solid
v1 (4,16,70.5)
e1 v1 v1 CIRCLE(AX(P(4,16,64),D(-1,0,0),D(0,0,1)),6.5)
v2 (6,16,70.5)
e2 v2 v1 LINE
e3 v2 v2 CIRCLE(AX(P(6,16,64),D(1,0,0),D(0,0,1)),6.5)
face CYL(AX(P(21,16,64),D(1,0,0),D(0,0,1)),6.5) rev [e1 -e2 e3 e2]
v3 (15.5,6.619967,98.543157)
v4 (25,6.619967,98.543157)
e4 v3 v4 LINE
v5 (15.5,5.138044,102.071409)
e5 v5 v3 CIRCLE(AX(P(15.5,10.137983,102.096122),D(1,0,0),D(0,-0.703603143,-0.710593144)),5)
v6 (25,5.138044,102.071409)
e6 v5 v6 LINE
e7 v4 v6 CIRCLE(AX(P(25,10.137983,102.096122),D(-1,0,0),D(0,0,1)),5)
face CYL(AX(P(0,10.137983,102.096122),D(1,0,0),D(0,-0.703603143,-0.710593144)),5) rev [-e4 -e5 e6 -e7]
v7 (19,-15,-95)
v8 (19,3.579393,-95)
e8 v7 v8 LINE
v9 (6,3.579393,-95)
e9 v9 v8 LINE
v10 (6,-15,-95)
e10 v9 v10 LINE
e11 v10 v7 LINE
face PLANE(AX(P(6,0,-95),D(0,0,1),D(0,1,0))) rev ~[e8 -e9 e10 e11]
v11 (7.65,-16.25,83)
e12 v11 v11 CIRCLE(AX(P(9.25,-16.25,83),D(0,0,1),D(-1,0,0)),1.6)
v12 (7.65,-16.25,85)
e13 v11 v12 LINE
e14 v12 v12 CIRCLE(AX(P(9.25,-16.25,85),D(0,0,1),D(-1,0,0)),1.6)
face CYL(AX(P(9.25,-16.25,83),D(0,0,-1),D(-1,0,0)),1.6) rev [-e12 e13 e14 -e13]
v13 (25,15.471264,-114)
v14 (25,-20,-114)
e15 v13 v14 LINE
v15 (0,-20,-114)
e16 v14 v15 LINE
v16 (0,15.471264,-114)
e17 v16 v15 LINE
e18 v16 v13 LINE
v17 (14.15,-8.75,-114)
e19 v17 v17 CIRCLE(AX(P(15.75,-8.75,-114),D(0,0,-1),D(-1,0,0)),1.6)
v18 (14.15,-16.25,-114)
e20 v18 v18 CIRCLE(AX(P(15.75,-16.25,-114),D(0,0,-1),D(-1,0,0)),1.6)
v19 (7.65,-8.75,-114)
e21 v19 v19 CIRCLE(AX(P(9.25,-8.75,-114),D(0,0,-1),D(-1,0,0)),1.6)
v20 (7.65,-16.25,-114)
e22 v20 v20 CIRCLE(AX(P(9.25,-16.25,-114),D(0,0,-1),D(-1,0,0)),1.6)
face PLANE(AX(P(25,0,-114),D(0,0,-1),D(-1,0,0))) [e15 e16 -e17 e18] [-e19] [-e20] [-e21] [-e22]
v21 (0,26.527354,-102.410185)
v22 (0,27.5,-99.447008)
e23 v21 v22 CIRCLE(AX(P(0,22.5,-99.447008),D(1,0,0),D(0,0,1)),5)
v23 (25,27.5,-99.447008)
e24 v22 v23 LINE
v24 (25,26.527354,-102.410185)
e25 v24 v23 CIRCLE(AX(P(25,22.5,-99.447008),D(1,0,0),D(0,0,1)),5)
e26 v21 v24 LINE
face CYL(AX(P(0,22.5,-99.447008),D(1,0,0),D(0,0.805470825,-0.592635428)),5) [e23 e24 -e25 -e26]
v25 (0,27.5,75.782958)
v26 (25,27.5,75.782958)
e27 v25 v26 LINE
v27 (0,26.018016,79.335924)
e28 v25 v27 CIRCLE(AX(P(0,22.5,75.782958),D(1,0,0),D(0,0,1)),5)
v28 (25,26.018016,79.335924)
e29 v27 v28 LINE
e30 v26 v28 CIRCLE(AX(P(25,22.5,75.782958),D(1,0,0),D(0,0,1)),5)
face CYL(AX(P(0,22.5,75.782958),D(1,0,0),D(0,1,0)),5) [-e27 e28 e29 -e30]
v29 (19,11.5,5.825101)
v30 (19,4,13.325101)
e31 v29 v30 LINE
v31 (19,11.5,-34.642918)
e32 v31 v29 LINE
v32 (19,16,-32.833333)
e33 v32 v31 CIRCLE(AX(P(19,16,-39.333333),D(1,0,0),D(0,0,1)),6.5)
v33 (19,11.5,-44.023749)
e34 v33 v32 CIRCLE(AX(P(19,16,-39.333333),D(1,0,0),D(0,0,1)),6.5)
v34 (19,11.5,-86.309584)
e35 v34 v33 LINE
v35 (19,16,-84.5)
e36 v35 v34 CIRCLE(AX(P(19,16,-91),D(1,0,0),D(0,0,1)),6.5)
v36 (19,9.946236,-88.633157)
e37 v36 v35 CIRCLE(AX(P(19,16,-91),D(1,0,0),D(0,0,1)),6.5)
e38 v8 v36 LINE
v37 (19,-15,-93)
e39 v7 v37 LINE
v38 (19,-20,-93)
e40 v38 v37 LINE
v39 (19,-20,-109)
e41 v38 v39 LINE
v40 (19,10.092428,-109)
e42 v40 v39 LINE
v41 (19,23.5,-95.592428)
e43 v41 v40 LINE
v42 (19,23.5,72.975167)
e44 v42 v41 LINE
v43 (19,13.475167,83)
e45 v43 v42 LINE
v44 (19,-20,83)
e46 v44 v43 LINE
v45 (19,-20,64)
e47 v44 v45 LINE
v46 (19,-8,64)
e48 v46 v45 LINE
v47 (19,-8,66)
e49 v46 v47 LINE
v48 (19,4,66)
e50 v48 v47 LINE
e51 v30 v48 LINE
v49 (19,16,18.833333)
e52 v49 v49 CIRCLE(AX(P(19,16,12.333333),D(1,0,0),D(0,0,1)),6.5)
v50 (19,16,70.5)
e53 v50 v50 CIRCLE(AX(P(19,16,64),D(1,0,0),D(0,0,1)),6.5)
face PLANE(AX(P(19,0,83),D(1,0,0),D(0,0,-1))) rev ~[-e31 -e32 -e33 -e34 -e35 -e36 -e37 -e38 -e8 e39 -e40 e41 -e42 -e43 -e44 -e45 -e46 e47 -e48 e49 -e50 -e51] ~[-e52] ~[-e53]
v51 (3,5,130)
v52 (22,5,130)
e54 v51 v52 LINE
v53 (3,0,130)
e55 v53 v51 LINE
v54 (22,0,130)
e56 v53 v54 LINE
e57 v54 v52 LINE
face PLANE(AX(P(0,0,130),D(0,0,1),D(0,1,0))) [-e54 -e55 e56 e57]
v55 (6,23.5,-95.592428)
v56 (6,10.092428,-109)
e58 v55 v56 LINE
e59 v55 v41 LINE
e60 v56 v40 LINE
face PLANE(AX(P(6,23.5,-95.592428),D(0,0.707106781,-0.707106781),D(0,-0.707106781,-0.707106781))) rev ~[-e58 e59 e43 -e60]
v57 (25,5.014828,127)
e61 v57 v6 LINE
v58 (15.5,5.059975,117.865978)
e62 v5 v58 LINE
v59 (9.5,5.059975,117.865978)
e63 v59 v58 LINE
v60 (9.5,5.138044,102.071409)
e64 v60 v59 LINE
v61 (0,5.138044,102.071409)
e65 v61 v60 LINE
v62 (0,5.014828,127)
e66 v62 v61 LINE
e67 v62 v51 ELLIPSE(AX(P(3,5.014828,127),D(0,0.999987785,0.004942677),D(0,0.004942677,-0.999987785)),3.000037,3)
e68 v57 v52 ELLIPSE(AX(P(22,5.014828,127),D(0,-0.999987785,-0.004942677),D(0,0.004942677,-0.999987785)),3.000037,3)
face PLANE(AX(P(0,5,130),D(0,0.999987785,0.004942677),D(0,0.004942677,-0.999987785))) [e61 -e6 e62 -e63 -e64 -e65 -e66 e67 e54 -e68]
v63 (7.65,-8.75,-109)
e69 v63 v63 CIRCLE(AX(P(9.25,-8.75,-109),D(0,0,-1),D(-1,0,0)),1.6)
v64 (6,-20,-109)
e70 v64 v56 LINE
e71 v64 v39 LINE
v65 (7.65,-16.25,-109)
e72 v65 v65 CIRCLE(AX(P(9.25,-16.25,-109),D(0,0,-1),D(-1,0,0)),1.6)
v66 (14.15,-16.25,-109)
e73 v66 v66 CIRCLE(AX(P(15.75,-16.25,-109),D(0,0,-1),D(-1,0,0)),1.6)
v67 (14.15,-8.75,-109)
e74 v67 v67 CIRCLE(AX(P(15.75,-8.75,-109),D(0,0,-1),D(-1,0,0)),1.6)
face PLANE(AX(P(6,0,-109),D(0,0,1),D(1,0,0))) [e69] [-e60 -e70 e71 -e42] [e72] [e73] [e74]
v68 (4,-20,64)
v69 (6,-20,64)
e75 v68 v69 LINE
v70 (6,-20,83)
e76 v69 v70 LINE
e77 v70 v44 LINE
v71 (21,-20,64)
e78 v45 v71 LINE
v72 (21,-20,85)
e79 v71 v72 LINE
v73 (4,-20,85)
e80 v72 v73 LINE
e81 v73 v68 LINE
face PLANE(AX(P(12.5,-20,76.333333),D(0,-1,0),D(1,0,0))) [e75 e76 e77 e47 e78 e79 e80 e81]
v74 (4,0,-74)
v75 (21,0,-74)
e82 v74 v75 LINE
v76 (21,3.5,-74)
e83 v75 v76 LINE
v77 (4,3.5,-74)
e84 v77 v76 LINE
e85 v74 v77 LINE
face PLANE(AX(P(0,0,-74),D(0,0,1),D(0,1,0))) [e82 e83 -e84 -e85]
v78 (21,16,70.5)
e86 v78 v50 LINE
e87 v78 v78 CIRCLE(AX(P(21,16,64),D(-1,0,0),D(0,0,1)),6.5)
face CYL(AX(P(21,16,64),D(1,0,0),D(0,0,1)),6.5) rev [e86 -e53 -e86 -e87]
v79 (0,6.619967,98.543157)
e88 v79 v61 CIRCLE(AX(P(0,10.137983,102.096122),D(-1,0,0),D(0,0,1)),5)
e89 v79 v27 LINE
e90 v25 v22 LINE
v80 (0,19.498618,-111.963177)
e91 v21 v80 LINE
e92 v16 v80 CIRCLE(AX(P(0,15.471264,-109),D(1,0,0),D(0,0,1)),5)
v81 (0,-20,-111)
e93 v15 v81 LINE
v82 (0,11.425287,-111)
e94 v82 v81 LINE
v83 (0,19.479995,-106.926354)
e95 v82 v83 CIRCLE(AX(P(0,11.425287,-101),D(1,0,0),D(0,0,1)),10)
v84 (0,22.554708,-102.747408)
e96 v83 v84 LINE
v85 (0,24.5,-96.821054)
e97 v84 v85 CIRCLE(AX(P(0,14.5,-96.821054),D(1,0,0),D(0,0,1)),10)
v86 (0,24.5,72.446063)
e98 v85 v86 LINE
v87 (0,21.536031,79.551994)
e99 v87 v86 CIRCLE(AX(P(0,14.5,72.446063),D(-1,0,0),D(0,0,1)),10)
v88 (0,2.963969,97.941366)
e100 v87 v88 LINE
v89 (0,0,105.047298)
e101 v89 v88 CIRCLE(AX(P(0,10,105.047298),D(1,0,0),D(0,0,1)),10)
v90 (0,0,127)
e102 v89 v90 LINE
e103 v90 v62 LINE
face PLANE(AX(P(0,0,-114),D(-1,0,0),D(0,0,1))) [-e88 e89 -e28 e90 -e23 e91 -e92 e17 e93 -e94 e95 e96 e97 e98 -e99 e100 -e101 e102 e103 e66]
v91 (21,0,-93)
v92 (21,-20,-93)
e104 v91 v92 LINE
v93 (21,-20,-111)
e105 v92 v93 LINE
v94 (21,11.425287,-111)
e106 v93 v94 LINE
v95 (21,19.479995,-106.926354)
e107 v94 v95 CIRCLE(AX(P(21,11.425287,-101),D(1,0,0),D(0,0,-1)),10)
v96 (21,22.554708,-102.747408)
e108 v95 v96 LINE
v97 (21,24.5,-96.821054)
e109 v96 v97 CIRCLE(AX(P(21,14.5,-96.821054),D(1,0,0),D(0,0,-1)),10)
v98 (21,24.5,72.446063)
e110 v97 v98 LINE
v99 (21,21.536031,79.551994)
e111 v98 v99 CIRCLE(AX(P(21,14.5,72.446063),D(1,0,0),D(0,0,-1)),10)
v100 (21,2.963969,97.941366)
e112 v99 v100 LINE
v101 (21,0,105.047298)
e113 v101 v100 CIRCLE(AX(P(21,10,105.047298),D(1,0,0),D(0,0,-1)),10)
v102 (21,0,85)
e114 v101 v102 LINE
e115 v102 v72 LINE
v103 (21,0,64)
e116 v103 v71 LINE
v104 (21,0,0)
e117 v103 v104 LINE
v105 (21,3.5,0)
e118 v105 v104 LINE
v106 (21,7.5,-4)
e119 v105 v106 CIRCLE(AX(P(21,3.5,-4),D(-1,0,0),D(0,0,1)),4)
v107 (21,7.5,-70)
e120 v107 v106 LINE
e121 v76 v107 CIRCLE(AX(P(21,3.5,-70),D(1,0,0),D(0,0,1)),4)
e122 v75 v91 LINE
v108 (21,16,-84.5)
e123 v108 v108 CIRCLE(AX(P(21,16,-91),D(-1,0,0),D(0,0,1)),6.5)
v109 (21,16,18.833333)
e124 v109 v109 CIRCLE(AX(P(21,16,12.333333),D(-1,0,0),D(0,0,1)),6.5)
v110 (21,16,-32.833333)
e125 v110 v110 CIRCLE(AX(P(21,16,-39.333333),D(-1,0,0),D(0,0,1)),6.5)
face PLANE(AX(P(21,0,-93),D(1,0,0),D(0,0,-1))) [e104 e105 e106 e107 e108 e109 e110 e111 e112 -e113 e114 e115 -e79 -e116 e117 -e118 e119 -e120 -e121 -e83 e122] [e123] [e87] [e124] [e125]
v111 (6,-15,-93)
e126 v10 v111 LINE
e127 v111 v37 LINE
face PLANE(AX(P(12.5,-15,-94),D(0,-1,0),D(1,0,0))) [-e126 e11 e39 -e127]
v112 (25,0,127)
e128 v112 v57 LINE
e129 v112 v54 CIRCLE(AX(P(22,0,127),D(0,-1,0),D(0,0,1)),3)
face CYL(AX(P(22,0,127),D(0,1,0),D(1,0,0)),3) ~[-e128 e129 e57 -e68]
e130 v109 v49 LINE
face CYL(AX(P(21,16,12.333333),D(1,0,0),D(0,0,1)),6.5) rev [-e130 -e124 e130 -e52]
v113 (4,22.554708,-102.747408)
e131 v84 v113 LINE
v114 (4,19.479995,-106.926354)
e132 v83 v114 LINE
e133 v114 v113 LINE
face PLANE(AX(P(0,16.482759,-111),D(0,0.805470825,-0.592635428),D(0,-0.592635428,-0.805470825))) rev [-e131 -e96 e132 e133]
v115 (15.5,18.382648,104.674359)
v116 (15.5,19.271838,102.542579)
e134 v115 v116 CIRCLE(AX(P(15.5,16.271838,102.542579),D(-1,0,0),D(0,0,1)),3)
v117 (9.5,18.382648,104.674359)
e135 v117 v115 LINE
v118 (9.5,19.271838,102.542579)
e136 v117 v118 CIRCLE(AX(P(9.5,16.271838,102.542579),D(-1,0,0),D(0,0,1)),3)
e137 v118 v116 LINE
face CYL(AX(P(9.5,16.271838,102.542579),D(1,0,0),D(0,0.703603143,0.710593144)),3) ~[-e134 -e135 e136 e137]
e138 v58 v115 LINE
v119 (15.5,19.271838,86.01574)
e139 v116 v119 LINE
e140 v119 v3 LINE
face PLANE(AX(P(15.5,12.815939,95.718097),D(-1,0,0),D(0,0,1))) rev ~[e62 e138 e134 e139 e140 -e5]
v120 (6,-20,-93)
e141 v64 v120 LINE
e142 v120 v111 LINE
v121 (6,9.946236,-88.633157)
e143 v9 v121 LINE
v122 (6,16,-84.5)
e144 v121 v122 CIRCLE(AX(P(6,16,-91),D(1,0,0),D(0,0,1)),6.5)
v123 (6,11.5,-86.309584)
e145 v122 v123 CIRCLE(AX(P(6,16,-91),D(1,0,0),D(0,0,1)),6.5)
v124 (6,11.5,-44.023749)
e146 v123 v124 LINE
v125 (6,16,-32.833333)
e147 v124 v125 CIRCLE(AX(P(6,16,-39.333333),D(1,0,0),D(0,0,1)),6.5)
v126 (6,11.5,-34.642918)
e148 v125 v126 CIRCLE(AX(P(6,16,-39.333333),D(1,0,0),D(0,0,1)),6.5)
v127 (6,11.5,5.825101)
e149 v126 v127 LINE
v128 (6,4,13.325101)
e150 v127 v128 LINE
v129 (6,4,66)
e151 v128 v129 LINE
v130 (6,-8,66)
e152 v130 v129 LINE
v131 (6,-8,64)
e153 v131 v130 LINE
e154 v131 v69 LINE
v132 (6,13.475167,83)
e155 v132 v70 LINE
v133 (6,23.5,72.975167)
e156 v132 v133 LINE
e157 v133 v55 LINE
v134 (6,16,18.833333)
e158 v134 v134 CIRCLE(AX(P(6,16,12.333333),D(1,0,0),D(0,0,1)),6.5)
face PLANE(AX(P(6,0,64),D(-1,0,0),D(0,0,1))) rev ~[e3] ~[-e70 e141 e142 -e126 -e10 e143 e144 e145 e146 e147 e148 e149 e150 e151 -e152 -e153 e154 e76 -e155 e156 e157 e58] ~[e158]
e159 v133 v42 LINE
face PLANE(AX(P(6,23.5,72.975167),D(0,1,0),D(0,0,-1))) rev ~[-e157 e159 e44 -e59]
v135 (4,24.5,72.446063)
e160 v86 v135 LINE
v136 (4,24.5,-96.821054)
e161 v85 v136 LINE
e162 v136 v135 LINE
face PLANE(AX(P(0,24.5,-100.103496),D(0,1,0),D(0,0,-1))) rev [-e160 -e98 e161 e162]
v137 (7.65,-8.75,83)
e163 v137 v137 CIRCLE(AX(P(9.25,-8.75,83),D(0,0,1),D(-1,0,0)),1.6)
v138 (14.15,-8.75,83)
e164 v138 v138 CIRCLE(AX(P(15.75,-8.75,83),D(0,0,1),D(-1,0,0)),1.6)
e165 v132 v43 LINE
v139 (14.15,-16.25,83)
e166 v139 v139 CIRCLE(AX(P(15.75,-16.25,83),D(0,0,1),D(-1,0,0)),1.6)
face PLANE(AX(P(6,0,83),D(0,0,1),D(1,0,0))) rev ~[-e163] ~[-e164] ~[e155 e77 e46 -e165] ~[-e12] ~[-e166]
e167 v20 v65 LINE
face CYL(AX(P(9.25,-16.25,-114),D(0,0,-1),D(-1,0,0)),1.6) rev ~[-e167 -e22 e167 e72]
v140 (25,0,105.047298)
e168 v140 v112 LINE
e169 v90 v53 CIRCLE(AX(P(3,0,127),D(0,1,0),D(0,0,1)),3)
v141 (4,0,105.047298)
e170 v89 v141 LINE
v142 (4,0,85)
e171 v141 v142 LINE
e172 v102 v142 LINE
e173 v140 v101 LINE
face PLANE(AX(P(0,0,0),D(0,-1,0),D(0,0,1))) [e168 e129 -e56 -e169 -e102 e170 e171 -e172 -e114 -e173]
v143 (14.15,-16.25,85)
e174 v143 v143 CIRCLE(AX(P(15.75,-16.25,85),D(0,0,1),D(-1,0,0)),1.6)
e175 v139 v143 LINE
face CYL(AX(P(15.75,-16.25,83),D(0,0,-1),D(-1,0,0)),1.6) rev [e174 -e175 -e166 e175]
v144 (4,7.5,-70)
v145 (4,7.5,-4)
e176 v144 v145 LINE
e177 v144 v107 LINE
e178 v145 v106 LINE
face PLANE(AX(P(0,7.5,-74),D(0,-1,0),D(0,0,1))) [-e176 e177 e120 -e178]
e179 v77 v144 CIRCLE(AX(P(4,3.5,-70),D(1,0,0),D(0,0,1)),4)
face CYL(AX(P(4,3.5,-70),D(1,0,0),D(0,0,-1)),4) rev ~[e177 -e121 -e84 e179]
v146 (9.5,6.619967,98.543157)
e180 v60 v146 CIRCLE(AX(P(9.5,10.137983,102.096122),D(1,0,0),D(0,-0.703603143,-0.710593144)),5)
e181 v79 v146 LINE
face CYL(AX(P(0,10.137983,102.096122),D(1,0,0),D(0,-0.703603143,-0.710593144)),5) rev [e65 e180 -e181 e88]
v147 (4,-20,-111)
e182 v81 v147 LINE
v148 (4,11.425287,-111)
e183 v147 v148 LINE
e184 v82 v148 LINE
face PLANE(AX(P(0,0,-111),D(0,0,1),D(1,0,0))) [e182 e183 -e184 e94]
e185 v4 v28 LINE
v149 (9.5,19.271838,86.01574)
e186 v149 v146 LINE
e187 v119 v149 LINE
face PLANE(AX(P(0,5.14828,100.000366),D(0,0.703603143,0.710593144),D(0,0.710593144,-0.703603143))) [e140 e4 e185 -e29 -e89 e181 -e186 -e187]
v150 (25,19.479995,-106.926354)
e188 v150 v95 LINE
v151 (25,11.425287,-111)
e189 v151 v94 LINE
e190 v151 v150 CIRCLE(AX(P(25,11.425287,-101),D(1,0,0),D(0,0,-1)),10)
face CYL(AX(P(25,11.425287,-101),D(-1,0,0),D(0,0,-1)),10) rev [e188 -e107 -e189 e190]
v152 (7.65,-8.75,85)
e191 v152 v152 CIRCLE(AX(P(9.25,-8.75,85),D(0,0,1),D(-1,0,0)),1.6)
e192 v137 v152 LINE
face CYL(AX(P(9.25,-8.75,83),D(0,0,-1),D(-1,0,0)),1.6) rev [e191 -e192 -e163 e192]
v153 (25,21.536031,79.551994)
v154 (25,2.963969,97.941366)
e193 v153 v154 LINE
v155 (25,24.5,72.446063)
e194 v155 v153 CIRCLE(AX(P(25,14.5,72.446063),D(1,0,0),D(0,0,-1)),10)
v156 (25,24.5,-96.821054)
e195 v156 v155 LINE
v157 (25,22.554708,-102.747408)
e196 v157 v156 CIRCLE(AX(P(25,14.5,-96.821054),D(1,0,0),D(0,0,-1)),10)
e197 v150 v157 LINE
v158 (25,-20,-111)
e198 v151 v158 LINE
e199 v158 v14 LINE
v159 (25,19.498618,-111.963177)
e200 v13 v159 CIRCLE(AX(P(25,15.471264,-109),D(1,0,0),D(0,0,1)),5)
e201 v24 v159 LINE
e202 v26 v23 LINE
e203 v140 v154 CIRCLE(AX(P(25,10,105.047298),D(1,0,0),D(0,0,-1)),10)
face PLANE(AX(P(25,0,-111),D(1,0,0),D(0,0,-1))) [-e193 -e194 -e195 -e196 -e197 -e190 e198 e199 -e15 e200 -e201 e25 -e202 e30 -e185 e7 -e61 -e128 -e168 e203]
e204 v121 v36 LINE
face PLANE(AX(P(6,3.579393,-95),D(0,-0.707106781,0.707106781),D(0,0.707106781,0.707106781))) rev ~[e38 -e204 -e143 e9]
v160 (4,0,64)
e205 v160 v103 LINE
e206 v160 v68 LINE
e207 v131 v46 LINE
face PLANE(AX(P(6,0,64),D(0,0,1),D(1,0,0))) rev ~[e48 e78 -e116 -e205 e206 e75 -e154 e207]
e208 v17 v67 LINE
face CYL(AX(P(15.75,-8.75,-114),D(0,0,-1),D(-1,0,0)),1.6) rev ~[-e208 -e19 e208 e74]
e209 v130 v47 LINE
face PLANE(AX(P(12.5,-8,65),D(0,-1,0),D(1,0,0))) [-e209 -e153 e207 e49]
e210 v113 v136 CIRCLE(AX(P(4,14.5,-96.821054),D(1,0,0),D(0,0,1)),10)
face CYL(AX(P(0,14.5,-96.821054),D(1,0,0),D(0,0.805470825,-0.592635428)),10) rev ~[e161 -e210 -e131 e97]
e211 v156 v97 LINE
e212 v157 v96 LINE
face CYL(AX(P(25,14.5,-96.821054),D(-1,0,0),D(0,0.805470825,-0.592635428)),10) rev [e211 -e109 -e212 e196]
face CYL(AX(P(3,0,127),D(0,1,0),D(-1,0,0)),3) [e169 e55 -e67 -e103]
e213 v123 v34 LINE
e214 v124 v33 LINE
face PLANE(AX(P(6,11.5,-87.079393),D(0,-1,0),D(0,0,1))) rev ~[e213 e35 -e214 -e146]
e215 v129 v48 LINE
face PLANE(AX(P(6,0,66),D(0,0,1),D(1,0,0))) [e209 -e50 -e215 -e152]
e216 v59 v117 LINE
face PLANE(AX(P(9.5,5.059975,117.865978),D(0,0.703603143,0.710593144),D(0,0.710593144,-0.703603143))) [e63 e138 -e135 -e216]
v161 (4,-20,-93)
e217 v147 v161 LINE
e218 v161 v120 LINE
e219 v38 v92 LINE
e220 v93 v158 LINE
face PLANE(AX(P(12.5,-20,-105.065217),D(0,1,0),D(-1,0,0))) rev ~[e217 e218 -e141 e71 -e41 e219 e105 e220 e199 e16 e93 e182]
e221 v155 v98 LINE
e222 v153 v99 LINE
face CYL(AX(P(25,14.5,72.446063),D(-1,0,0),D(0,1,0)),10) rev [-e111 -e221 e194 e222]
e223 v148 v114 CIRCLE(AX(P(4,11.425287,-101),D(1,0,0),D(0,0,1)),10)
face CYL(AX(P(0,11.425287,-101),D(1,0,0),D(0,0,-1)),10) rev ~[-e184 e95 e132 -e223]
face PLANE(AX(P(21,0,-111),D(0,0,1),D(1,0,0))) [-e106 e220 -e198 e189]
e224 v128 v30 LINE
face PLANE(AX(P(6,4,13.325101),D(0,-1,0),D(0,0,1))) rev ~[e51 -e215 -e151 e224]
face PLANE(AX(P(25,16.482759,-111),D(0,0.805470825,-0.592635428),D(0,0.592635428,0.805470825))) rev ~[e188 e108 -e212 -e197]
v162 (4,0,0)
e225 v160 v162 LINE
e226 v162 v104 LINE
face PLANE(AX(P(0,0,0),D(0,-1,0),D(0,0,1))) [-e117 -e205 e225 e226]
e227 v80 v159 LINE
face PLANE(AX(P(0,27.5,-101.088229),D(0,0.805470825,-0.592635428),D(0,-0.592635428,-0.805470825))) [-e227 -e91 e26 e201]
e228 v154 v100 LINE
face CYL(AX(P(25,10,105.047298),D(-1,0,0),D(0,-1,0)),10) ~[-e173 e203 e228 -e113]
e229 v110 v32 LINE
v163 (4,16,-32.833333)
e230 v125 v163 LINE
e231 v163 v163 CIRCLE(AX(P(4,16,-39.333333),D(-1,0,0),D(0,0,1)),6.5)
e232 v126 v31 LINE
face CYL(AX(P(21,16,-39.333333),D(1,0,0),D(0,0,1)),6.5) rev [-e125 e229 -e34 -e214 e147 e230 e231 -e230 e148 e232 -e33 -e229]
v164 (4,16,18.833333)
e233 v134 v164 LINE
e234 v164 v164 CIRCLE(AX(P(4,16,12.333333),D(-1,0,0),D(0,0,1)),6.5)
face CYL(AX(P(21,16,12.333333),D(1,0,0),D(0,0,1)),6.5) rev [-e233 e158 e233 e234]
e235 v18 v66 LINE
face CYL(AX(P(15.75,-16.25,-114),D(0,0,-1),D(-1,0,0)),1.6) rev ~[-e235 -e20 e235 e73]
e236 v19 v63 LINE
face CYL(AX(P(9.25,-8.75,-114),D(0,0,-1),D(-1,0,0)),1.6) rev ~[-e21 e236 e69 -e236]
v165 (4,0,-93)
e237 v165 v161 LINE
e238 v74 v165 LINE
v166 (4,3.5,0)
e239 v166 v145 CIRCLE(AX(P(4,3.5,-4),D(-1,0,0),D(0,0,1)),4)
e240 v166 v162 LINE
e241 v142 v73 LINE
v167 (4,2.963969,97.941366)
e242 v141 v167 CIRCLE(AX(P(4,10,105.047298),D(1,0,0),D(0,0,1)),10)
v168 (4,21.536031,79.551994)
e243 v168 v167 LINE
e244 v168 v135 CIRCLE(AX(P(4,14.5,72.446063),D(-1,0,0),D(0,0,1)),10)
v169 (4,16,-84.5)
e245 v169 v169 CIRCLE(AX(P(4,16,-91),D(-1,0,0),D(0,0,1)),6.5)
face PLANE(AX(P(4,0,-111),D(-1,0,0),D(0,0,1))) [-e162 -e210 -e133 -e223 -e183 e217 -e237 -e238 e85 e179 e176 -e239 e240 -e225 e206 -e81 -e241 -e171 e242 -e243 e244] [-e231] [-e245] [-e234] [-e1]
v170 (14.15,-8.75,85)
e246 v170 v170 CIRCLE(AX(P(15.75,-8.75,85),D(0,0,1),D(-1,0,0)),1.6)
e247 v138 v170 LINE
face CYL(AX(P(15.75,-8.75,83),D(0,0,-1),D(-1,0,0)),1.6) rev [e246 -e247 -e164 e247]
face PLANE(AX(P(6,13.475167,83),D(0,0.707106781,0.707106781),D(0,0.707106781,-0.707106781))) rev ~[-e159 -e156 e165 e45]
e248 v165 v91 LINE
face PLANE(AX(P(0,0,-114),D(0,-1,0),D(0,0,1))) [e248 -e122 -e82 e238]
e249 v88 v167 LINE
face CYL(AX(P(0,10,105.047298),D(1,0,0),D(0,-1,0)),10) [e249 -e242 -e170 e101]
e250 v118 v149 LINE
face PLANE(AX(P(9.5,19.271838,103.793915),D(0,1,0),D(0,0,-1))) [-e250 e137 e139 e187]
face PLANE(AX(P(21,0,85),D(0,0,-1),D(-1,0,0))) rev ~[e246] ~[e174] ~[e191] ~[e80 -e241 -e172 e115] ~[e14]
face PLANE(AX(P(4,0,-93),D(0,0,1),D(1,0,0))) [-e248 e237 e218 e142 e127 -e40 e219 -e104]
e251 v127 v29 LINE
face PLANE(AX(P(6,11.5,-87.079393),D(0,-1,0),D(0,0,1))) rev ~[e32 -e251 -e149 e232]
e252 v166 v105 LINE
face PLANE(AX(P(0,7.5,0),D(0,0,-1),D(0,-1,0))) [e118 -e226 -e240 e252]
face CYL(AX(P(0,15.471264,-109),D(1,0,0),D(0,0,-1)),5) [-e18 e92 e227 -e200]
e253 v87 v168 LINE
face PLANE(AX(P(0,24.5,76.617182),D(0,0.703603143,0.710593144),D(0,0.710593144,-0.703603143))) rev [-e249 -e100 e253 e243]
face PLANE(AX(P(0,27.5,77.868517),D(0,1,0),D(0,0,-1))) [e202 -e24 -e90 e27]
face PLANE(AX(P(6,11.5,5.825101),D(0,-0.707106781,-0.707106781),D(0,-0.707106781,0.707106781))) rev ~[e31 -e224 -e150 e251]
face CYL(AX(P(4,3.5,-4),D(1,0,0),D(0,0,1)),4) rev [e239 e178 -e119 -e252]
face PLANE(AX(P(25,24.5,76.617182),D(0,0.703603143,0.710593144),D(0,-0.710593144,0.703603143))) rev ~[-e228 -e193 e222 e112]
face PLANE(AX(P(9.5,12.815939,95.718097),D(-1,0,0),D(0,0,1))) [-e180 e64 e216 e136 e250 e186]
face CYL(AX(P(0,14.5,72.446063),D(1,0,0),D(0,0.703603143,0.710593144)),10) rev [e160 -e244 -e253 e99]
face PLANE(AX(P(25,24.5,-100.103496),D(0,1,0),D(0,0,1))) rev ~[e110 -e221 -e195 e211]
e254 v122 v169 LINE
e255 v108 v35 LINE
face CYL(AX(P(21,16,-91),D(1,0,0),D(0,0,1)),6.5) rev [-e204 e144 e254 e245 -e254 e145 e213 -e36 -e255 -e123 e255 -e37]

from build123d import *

# Parameters (mm, degrees)
BOSS_EXTRUDE1_DEPTH      = 25
CUT_EXTRUDE1_DEPTH       = 4
FILLET1_R                = 4
FILLET2_R                = 10
FILLET3_R                = 5
FILLET4_R                = 3
BOSS_EXTRUDE2_DEPTH      = 3
BOSS_EXTRUDE2_DEPTH_BACK = 3
FILLET5_R                = 3
SKETCH6_W                = 13
SKETCH6_H                = 14
BOSS_EXTRUDE3_DEPTH      = 20
BOSS_EXTRUDE4_DEPTH      = 20
SKETCH9_W                = 13
SKETCH9_H                = 2
BOSS_EXTRUDE5_DEPTH      = 8
SKETCH7_W                = 13
SKETCH7_H                = 2
CUT_EXTRUDE2_DEPTH       = 5
SKETCH11_R               = 1.6
CUT_EXTRUDE3_DEPTH       = 19
CUT_EXTRUDE4_START       = -2
SKETCH12_R               = 1.6
CUT_EXTRUDE4_DEPTH       = 2
CUT_EXTRUDE5_DEPTH       = 6.5
CUT_EXTRUDE5_DEPTH_BACK  = 6.5
CUT_EXTRUDE6_START       = -17
SKETCH15_R               = 6.5
CUT_EXTRUDE6_DEPTH       = 17


with BuildPart() as part:
    # Sketch1 → Boss-Extrude1 (new body)
    with BuildSketch(Plane(origin=(0, 0, 0), x_dir=(0, 0, -1), z_dir=(1, 0, 0))):
        Polygon((0, 0), (-130, 0), (-130, 5), (-100.000366453, 5.148280317), (-77.868517379, 27.5), (101.088229162, 27.5), (114, 18), (114, 0), (74, 0), (74, 7.5), (0, 7.5), align=None)
    extrude(amount=BOSS_EXTRUDE1_DEPTH)

    # Sketch4 → Cut-Extrude1 (cut)
    with BuildSketch(Plane(origin=(25, 0, 0), x_dir=(0, 0, -1), z_dir=(1, 0, 0))):
        Polygon((-100.876178749, 0), (0, 0), (111, 0), (111, 3), (111, 16.482758557), (100.103496394, 24.5), (-76.617181678, 24.5), align=None)
    cut_extrude1 = extrude(amount=-CUT_EXTRUDE1_DEPTH, mode=Mode.SUBTRACT)

    # Mirror2: Cut-Extrude1 across plane
    add(cut_extrude1.mirror(Plane(origin=(12.5, 0, 0), x_dir=(0, 0, 1), z_dir=(1, 0, 0))), mode=Mode.SUBTRACT)

    # Fillet1
    fillet1_edges = [part.edges().sort_by_distance(p)[0] for p in [
        (12.5, 7.5, -74),
        (12.5, 7.5, 0),
    ]]
    fillet(fillet1_edges, radius=FILLET1_R)

    # Fillet2
    fillet2_edges = [part.edges().sort_by_distance(p)[0] for p in [
        (23, 0, 100.876178749),
        (23, 24.5, 76.617181678),
        (23, 24.5, -100.103496394),
        (23, 16.482758557, -111),
        (2, 0, 100.876178749),
        (2, 16.482758557, -111),
        (2, 24.5, -100.103496394),
        (2, 24.5, 76.617181678),
    ]]
    fillet(fillet2_edges, radius=FILLET2_R)

    # Fillet3
    fillet3_edges = [part.edges().sort_by_distance(p)[0] for p in [
        (12.5, 5.148280317, 100.000366453),
        (12.5, 27.5, 77.868517379),
        (12.5, 27.5, -101.088229162),
        (12.5, 18, -114),
    ]]
    fillet(fillet3_edges, radius=FILLET3_R)

    # Fillet4
    fillet4_edges = [part.edges().sort_by_distance(p)[0] for p in [
        (0, 2.5, 130),
        (25, 2.5, 130),
    ]]
    fillet(fillet4_edges, radius=FILLET4_R)

    # Sketch5 → Boss-Extrude2 (add, two sides: drawn at the far end of the back side and taken through both)
    with BuildSketch(Plane(origin=(12.5, 0, 0), x_dir=(0, 0, -1), z_dir=(1, 0, 0)).offset(-BOSS_EXTRUDE2_DEPTH_BACK)):
        Polygon((-117.8659777, 5.059975288), (-103.793914836, 19.271838176), (-72.605250228, 19.271838176), (-95.8659777, 5.059975288), align=None)
    extrude(amount=BOSS_EXTRUDE2_DEPTH + BOSS_EXTRUDE2_DEPTH_BACK)

    # Fillet5
    fillet5_edges = [part.edges().sort_by_distance(p)[0] for p in [
        (12.5, 19.271838176, 103.793914836),
    ]]
    fillet(fillet5_edges, radius=FILLET5_R)

    # Sketch6 → Boss-Extrude3 (add)
    with BuildSketch(Plane.XZ):
        Polygon((0, -111), (4, -111), (4, -93), (21, -93), (21, -111), (25, -111), (25, -114), (0, -114), align=None)
        with Locations((12.5, -102)):
            Rectangle(SKETCH6_W, SKETCH6_H, mode=Mode.SUBTRACT)
    extrude(amount=BOSS_EXTRUDE3_DEPTH)

    # Sketch8 → Boss-Extrude4 (add)
    with BuildSketch(Plane.XZ):
        Polygon((21, 85), (4, 85), (4, 64), (6, 64), (6, 83), (19, 83), (19, 64), (21, 64), align=None)
    extrude(amount=BOSS_EXTRUDE4_DEPTH)

    # Sketch9 → Boss-Extrude5 (add)
    with BuildSketch(Plane.XZ):
        with Locations((12.5, 65)):
            Rectangle(SKETCH9_W, SKETCH9_H)
    extrude(amount=BOSS_EXTRUDE5_DEPTH)

    # Sketch7 → Cut-Extrude2 (cut)
    with BuildSketch(Plane.XZ.offset(20)):
        with Locations((12.5, -94)):
            Rectangle(SKETCH7_W, SKETCH7_H)
    extrude(amount=-CUT_EXTRUDE2_DEPTH, mode=Mode.SUBTRACT)

    # Sketch11 → Cut-Extrude3 (cut)
    with BuildSketch(Plane(origin=(0, 0, -114), x_dir=(-1, 0, 0), z_dir=(0, 0, -1))):
        with Locations((-15.75, -16.25)):
            Circle(SKETCH11_R)
        with Locations((-15.75, -8.75)):
            Circle(SKETCH11_R)
        with Locations((-9.25, -8.75)):
            Circle(SKETCH11_R)
        with Locations((-9.25, -16.25)):
            Circle(SKETCH11_R)
    extrude(amount=-CUT_EXTRUDE3_DEPTH, mode=Mode.SUBTRACT)

    # Sketch12 → Cut-Extrude4 (cut)
    with BuildSketch(Plane.XY.offset(85).offset(CUT_EXTRUDE4_START)):
        with Locations(Location((15.75, -16.25, 0), (0, 0, 180))):
            Circle(SKETCH12_R)
        with Locations(Location((9.25, -16.25, 0), (0, 0, 180))):
            Circle(SKETCH12_R)
        with Locations(Location((9.25, -8.75, 0), (0, 0, 180))):
            Circle(SKETCH12_R)
        with Locations(Location((15.75, -8.75, 0), (0, 0, 180))):
            Circle(SKETCH12_R)
    extrude(amount=CUT_EXTRUDE4_DEPTH, mode=Mode.SUBTRACT)

    # Sketch14 → Cut-Extrude5 (cut, two sides: drawn at the far end of the back side and taken through both)
    with BuildSketch(Plane(origin=(12.5, 0, 0), x_dir=(0, 0, -1), z_dir=(1, 0, 0)).offset(-CUT_EXTRUDE5_DEPTH_BACK)):
        Polygon((-83, 0), (-83, 13.475167258), (-72.975167258, 23.5), (95.592427597, 23.5), (109, 10.092427597), (109, 0), (95, 0), (95, 3.57939317), (87.07939317, 11.5), (-5.825100808, 11.5), (-13.325100808, 4), (-66, 4), (-66, 0), align=None)
    extrude(amount=CUT_EXTRUDE5_DEPTH + CUT_EXTRUDE5_DEPTH_BACK, mode=Mode.SUBTRACT)

    # Sketch15 → Cut-Extrude6 (cut)
    with BuildSketch(Plane.ZY.offset(-4).offset(CUT_EXTRUDE6_START)):
        with Locations((-91, 16)):
            Circle(SKETCH15_R)
        with Locations((-39.333333333, 16)):
            Circle(SKETCH15_R)
        with Locations((64, 16)):
            Circle(SKETCH15_R)
        with Locations((12.333333333, 16)):
            Circle(SKETCH15_R)
    extrude(amount=CUT_EXTRUDE6_DEPTH, mode=Mode.SUBTRACT)


solid = part.part
